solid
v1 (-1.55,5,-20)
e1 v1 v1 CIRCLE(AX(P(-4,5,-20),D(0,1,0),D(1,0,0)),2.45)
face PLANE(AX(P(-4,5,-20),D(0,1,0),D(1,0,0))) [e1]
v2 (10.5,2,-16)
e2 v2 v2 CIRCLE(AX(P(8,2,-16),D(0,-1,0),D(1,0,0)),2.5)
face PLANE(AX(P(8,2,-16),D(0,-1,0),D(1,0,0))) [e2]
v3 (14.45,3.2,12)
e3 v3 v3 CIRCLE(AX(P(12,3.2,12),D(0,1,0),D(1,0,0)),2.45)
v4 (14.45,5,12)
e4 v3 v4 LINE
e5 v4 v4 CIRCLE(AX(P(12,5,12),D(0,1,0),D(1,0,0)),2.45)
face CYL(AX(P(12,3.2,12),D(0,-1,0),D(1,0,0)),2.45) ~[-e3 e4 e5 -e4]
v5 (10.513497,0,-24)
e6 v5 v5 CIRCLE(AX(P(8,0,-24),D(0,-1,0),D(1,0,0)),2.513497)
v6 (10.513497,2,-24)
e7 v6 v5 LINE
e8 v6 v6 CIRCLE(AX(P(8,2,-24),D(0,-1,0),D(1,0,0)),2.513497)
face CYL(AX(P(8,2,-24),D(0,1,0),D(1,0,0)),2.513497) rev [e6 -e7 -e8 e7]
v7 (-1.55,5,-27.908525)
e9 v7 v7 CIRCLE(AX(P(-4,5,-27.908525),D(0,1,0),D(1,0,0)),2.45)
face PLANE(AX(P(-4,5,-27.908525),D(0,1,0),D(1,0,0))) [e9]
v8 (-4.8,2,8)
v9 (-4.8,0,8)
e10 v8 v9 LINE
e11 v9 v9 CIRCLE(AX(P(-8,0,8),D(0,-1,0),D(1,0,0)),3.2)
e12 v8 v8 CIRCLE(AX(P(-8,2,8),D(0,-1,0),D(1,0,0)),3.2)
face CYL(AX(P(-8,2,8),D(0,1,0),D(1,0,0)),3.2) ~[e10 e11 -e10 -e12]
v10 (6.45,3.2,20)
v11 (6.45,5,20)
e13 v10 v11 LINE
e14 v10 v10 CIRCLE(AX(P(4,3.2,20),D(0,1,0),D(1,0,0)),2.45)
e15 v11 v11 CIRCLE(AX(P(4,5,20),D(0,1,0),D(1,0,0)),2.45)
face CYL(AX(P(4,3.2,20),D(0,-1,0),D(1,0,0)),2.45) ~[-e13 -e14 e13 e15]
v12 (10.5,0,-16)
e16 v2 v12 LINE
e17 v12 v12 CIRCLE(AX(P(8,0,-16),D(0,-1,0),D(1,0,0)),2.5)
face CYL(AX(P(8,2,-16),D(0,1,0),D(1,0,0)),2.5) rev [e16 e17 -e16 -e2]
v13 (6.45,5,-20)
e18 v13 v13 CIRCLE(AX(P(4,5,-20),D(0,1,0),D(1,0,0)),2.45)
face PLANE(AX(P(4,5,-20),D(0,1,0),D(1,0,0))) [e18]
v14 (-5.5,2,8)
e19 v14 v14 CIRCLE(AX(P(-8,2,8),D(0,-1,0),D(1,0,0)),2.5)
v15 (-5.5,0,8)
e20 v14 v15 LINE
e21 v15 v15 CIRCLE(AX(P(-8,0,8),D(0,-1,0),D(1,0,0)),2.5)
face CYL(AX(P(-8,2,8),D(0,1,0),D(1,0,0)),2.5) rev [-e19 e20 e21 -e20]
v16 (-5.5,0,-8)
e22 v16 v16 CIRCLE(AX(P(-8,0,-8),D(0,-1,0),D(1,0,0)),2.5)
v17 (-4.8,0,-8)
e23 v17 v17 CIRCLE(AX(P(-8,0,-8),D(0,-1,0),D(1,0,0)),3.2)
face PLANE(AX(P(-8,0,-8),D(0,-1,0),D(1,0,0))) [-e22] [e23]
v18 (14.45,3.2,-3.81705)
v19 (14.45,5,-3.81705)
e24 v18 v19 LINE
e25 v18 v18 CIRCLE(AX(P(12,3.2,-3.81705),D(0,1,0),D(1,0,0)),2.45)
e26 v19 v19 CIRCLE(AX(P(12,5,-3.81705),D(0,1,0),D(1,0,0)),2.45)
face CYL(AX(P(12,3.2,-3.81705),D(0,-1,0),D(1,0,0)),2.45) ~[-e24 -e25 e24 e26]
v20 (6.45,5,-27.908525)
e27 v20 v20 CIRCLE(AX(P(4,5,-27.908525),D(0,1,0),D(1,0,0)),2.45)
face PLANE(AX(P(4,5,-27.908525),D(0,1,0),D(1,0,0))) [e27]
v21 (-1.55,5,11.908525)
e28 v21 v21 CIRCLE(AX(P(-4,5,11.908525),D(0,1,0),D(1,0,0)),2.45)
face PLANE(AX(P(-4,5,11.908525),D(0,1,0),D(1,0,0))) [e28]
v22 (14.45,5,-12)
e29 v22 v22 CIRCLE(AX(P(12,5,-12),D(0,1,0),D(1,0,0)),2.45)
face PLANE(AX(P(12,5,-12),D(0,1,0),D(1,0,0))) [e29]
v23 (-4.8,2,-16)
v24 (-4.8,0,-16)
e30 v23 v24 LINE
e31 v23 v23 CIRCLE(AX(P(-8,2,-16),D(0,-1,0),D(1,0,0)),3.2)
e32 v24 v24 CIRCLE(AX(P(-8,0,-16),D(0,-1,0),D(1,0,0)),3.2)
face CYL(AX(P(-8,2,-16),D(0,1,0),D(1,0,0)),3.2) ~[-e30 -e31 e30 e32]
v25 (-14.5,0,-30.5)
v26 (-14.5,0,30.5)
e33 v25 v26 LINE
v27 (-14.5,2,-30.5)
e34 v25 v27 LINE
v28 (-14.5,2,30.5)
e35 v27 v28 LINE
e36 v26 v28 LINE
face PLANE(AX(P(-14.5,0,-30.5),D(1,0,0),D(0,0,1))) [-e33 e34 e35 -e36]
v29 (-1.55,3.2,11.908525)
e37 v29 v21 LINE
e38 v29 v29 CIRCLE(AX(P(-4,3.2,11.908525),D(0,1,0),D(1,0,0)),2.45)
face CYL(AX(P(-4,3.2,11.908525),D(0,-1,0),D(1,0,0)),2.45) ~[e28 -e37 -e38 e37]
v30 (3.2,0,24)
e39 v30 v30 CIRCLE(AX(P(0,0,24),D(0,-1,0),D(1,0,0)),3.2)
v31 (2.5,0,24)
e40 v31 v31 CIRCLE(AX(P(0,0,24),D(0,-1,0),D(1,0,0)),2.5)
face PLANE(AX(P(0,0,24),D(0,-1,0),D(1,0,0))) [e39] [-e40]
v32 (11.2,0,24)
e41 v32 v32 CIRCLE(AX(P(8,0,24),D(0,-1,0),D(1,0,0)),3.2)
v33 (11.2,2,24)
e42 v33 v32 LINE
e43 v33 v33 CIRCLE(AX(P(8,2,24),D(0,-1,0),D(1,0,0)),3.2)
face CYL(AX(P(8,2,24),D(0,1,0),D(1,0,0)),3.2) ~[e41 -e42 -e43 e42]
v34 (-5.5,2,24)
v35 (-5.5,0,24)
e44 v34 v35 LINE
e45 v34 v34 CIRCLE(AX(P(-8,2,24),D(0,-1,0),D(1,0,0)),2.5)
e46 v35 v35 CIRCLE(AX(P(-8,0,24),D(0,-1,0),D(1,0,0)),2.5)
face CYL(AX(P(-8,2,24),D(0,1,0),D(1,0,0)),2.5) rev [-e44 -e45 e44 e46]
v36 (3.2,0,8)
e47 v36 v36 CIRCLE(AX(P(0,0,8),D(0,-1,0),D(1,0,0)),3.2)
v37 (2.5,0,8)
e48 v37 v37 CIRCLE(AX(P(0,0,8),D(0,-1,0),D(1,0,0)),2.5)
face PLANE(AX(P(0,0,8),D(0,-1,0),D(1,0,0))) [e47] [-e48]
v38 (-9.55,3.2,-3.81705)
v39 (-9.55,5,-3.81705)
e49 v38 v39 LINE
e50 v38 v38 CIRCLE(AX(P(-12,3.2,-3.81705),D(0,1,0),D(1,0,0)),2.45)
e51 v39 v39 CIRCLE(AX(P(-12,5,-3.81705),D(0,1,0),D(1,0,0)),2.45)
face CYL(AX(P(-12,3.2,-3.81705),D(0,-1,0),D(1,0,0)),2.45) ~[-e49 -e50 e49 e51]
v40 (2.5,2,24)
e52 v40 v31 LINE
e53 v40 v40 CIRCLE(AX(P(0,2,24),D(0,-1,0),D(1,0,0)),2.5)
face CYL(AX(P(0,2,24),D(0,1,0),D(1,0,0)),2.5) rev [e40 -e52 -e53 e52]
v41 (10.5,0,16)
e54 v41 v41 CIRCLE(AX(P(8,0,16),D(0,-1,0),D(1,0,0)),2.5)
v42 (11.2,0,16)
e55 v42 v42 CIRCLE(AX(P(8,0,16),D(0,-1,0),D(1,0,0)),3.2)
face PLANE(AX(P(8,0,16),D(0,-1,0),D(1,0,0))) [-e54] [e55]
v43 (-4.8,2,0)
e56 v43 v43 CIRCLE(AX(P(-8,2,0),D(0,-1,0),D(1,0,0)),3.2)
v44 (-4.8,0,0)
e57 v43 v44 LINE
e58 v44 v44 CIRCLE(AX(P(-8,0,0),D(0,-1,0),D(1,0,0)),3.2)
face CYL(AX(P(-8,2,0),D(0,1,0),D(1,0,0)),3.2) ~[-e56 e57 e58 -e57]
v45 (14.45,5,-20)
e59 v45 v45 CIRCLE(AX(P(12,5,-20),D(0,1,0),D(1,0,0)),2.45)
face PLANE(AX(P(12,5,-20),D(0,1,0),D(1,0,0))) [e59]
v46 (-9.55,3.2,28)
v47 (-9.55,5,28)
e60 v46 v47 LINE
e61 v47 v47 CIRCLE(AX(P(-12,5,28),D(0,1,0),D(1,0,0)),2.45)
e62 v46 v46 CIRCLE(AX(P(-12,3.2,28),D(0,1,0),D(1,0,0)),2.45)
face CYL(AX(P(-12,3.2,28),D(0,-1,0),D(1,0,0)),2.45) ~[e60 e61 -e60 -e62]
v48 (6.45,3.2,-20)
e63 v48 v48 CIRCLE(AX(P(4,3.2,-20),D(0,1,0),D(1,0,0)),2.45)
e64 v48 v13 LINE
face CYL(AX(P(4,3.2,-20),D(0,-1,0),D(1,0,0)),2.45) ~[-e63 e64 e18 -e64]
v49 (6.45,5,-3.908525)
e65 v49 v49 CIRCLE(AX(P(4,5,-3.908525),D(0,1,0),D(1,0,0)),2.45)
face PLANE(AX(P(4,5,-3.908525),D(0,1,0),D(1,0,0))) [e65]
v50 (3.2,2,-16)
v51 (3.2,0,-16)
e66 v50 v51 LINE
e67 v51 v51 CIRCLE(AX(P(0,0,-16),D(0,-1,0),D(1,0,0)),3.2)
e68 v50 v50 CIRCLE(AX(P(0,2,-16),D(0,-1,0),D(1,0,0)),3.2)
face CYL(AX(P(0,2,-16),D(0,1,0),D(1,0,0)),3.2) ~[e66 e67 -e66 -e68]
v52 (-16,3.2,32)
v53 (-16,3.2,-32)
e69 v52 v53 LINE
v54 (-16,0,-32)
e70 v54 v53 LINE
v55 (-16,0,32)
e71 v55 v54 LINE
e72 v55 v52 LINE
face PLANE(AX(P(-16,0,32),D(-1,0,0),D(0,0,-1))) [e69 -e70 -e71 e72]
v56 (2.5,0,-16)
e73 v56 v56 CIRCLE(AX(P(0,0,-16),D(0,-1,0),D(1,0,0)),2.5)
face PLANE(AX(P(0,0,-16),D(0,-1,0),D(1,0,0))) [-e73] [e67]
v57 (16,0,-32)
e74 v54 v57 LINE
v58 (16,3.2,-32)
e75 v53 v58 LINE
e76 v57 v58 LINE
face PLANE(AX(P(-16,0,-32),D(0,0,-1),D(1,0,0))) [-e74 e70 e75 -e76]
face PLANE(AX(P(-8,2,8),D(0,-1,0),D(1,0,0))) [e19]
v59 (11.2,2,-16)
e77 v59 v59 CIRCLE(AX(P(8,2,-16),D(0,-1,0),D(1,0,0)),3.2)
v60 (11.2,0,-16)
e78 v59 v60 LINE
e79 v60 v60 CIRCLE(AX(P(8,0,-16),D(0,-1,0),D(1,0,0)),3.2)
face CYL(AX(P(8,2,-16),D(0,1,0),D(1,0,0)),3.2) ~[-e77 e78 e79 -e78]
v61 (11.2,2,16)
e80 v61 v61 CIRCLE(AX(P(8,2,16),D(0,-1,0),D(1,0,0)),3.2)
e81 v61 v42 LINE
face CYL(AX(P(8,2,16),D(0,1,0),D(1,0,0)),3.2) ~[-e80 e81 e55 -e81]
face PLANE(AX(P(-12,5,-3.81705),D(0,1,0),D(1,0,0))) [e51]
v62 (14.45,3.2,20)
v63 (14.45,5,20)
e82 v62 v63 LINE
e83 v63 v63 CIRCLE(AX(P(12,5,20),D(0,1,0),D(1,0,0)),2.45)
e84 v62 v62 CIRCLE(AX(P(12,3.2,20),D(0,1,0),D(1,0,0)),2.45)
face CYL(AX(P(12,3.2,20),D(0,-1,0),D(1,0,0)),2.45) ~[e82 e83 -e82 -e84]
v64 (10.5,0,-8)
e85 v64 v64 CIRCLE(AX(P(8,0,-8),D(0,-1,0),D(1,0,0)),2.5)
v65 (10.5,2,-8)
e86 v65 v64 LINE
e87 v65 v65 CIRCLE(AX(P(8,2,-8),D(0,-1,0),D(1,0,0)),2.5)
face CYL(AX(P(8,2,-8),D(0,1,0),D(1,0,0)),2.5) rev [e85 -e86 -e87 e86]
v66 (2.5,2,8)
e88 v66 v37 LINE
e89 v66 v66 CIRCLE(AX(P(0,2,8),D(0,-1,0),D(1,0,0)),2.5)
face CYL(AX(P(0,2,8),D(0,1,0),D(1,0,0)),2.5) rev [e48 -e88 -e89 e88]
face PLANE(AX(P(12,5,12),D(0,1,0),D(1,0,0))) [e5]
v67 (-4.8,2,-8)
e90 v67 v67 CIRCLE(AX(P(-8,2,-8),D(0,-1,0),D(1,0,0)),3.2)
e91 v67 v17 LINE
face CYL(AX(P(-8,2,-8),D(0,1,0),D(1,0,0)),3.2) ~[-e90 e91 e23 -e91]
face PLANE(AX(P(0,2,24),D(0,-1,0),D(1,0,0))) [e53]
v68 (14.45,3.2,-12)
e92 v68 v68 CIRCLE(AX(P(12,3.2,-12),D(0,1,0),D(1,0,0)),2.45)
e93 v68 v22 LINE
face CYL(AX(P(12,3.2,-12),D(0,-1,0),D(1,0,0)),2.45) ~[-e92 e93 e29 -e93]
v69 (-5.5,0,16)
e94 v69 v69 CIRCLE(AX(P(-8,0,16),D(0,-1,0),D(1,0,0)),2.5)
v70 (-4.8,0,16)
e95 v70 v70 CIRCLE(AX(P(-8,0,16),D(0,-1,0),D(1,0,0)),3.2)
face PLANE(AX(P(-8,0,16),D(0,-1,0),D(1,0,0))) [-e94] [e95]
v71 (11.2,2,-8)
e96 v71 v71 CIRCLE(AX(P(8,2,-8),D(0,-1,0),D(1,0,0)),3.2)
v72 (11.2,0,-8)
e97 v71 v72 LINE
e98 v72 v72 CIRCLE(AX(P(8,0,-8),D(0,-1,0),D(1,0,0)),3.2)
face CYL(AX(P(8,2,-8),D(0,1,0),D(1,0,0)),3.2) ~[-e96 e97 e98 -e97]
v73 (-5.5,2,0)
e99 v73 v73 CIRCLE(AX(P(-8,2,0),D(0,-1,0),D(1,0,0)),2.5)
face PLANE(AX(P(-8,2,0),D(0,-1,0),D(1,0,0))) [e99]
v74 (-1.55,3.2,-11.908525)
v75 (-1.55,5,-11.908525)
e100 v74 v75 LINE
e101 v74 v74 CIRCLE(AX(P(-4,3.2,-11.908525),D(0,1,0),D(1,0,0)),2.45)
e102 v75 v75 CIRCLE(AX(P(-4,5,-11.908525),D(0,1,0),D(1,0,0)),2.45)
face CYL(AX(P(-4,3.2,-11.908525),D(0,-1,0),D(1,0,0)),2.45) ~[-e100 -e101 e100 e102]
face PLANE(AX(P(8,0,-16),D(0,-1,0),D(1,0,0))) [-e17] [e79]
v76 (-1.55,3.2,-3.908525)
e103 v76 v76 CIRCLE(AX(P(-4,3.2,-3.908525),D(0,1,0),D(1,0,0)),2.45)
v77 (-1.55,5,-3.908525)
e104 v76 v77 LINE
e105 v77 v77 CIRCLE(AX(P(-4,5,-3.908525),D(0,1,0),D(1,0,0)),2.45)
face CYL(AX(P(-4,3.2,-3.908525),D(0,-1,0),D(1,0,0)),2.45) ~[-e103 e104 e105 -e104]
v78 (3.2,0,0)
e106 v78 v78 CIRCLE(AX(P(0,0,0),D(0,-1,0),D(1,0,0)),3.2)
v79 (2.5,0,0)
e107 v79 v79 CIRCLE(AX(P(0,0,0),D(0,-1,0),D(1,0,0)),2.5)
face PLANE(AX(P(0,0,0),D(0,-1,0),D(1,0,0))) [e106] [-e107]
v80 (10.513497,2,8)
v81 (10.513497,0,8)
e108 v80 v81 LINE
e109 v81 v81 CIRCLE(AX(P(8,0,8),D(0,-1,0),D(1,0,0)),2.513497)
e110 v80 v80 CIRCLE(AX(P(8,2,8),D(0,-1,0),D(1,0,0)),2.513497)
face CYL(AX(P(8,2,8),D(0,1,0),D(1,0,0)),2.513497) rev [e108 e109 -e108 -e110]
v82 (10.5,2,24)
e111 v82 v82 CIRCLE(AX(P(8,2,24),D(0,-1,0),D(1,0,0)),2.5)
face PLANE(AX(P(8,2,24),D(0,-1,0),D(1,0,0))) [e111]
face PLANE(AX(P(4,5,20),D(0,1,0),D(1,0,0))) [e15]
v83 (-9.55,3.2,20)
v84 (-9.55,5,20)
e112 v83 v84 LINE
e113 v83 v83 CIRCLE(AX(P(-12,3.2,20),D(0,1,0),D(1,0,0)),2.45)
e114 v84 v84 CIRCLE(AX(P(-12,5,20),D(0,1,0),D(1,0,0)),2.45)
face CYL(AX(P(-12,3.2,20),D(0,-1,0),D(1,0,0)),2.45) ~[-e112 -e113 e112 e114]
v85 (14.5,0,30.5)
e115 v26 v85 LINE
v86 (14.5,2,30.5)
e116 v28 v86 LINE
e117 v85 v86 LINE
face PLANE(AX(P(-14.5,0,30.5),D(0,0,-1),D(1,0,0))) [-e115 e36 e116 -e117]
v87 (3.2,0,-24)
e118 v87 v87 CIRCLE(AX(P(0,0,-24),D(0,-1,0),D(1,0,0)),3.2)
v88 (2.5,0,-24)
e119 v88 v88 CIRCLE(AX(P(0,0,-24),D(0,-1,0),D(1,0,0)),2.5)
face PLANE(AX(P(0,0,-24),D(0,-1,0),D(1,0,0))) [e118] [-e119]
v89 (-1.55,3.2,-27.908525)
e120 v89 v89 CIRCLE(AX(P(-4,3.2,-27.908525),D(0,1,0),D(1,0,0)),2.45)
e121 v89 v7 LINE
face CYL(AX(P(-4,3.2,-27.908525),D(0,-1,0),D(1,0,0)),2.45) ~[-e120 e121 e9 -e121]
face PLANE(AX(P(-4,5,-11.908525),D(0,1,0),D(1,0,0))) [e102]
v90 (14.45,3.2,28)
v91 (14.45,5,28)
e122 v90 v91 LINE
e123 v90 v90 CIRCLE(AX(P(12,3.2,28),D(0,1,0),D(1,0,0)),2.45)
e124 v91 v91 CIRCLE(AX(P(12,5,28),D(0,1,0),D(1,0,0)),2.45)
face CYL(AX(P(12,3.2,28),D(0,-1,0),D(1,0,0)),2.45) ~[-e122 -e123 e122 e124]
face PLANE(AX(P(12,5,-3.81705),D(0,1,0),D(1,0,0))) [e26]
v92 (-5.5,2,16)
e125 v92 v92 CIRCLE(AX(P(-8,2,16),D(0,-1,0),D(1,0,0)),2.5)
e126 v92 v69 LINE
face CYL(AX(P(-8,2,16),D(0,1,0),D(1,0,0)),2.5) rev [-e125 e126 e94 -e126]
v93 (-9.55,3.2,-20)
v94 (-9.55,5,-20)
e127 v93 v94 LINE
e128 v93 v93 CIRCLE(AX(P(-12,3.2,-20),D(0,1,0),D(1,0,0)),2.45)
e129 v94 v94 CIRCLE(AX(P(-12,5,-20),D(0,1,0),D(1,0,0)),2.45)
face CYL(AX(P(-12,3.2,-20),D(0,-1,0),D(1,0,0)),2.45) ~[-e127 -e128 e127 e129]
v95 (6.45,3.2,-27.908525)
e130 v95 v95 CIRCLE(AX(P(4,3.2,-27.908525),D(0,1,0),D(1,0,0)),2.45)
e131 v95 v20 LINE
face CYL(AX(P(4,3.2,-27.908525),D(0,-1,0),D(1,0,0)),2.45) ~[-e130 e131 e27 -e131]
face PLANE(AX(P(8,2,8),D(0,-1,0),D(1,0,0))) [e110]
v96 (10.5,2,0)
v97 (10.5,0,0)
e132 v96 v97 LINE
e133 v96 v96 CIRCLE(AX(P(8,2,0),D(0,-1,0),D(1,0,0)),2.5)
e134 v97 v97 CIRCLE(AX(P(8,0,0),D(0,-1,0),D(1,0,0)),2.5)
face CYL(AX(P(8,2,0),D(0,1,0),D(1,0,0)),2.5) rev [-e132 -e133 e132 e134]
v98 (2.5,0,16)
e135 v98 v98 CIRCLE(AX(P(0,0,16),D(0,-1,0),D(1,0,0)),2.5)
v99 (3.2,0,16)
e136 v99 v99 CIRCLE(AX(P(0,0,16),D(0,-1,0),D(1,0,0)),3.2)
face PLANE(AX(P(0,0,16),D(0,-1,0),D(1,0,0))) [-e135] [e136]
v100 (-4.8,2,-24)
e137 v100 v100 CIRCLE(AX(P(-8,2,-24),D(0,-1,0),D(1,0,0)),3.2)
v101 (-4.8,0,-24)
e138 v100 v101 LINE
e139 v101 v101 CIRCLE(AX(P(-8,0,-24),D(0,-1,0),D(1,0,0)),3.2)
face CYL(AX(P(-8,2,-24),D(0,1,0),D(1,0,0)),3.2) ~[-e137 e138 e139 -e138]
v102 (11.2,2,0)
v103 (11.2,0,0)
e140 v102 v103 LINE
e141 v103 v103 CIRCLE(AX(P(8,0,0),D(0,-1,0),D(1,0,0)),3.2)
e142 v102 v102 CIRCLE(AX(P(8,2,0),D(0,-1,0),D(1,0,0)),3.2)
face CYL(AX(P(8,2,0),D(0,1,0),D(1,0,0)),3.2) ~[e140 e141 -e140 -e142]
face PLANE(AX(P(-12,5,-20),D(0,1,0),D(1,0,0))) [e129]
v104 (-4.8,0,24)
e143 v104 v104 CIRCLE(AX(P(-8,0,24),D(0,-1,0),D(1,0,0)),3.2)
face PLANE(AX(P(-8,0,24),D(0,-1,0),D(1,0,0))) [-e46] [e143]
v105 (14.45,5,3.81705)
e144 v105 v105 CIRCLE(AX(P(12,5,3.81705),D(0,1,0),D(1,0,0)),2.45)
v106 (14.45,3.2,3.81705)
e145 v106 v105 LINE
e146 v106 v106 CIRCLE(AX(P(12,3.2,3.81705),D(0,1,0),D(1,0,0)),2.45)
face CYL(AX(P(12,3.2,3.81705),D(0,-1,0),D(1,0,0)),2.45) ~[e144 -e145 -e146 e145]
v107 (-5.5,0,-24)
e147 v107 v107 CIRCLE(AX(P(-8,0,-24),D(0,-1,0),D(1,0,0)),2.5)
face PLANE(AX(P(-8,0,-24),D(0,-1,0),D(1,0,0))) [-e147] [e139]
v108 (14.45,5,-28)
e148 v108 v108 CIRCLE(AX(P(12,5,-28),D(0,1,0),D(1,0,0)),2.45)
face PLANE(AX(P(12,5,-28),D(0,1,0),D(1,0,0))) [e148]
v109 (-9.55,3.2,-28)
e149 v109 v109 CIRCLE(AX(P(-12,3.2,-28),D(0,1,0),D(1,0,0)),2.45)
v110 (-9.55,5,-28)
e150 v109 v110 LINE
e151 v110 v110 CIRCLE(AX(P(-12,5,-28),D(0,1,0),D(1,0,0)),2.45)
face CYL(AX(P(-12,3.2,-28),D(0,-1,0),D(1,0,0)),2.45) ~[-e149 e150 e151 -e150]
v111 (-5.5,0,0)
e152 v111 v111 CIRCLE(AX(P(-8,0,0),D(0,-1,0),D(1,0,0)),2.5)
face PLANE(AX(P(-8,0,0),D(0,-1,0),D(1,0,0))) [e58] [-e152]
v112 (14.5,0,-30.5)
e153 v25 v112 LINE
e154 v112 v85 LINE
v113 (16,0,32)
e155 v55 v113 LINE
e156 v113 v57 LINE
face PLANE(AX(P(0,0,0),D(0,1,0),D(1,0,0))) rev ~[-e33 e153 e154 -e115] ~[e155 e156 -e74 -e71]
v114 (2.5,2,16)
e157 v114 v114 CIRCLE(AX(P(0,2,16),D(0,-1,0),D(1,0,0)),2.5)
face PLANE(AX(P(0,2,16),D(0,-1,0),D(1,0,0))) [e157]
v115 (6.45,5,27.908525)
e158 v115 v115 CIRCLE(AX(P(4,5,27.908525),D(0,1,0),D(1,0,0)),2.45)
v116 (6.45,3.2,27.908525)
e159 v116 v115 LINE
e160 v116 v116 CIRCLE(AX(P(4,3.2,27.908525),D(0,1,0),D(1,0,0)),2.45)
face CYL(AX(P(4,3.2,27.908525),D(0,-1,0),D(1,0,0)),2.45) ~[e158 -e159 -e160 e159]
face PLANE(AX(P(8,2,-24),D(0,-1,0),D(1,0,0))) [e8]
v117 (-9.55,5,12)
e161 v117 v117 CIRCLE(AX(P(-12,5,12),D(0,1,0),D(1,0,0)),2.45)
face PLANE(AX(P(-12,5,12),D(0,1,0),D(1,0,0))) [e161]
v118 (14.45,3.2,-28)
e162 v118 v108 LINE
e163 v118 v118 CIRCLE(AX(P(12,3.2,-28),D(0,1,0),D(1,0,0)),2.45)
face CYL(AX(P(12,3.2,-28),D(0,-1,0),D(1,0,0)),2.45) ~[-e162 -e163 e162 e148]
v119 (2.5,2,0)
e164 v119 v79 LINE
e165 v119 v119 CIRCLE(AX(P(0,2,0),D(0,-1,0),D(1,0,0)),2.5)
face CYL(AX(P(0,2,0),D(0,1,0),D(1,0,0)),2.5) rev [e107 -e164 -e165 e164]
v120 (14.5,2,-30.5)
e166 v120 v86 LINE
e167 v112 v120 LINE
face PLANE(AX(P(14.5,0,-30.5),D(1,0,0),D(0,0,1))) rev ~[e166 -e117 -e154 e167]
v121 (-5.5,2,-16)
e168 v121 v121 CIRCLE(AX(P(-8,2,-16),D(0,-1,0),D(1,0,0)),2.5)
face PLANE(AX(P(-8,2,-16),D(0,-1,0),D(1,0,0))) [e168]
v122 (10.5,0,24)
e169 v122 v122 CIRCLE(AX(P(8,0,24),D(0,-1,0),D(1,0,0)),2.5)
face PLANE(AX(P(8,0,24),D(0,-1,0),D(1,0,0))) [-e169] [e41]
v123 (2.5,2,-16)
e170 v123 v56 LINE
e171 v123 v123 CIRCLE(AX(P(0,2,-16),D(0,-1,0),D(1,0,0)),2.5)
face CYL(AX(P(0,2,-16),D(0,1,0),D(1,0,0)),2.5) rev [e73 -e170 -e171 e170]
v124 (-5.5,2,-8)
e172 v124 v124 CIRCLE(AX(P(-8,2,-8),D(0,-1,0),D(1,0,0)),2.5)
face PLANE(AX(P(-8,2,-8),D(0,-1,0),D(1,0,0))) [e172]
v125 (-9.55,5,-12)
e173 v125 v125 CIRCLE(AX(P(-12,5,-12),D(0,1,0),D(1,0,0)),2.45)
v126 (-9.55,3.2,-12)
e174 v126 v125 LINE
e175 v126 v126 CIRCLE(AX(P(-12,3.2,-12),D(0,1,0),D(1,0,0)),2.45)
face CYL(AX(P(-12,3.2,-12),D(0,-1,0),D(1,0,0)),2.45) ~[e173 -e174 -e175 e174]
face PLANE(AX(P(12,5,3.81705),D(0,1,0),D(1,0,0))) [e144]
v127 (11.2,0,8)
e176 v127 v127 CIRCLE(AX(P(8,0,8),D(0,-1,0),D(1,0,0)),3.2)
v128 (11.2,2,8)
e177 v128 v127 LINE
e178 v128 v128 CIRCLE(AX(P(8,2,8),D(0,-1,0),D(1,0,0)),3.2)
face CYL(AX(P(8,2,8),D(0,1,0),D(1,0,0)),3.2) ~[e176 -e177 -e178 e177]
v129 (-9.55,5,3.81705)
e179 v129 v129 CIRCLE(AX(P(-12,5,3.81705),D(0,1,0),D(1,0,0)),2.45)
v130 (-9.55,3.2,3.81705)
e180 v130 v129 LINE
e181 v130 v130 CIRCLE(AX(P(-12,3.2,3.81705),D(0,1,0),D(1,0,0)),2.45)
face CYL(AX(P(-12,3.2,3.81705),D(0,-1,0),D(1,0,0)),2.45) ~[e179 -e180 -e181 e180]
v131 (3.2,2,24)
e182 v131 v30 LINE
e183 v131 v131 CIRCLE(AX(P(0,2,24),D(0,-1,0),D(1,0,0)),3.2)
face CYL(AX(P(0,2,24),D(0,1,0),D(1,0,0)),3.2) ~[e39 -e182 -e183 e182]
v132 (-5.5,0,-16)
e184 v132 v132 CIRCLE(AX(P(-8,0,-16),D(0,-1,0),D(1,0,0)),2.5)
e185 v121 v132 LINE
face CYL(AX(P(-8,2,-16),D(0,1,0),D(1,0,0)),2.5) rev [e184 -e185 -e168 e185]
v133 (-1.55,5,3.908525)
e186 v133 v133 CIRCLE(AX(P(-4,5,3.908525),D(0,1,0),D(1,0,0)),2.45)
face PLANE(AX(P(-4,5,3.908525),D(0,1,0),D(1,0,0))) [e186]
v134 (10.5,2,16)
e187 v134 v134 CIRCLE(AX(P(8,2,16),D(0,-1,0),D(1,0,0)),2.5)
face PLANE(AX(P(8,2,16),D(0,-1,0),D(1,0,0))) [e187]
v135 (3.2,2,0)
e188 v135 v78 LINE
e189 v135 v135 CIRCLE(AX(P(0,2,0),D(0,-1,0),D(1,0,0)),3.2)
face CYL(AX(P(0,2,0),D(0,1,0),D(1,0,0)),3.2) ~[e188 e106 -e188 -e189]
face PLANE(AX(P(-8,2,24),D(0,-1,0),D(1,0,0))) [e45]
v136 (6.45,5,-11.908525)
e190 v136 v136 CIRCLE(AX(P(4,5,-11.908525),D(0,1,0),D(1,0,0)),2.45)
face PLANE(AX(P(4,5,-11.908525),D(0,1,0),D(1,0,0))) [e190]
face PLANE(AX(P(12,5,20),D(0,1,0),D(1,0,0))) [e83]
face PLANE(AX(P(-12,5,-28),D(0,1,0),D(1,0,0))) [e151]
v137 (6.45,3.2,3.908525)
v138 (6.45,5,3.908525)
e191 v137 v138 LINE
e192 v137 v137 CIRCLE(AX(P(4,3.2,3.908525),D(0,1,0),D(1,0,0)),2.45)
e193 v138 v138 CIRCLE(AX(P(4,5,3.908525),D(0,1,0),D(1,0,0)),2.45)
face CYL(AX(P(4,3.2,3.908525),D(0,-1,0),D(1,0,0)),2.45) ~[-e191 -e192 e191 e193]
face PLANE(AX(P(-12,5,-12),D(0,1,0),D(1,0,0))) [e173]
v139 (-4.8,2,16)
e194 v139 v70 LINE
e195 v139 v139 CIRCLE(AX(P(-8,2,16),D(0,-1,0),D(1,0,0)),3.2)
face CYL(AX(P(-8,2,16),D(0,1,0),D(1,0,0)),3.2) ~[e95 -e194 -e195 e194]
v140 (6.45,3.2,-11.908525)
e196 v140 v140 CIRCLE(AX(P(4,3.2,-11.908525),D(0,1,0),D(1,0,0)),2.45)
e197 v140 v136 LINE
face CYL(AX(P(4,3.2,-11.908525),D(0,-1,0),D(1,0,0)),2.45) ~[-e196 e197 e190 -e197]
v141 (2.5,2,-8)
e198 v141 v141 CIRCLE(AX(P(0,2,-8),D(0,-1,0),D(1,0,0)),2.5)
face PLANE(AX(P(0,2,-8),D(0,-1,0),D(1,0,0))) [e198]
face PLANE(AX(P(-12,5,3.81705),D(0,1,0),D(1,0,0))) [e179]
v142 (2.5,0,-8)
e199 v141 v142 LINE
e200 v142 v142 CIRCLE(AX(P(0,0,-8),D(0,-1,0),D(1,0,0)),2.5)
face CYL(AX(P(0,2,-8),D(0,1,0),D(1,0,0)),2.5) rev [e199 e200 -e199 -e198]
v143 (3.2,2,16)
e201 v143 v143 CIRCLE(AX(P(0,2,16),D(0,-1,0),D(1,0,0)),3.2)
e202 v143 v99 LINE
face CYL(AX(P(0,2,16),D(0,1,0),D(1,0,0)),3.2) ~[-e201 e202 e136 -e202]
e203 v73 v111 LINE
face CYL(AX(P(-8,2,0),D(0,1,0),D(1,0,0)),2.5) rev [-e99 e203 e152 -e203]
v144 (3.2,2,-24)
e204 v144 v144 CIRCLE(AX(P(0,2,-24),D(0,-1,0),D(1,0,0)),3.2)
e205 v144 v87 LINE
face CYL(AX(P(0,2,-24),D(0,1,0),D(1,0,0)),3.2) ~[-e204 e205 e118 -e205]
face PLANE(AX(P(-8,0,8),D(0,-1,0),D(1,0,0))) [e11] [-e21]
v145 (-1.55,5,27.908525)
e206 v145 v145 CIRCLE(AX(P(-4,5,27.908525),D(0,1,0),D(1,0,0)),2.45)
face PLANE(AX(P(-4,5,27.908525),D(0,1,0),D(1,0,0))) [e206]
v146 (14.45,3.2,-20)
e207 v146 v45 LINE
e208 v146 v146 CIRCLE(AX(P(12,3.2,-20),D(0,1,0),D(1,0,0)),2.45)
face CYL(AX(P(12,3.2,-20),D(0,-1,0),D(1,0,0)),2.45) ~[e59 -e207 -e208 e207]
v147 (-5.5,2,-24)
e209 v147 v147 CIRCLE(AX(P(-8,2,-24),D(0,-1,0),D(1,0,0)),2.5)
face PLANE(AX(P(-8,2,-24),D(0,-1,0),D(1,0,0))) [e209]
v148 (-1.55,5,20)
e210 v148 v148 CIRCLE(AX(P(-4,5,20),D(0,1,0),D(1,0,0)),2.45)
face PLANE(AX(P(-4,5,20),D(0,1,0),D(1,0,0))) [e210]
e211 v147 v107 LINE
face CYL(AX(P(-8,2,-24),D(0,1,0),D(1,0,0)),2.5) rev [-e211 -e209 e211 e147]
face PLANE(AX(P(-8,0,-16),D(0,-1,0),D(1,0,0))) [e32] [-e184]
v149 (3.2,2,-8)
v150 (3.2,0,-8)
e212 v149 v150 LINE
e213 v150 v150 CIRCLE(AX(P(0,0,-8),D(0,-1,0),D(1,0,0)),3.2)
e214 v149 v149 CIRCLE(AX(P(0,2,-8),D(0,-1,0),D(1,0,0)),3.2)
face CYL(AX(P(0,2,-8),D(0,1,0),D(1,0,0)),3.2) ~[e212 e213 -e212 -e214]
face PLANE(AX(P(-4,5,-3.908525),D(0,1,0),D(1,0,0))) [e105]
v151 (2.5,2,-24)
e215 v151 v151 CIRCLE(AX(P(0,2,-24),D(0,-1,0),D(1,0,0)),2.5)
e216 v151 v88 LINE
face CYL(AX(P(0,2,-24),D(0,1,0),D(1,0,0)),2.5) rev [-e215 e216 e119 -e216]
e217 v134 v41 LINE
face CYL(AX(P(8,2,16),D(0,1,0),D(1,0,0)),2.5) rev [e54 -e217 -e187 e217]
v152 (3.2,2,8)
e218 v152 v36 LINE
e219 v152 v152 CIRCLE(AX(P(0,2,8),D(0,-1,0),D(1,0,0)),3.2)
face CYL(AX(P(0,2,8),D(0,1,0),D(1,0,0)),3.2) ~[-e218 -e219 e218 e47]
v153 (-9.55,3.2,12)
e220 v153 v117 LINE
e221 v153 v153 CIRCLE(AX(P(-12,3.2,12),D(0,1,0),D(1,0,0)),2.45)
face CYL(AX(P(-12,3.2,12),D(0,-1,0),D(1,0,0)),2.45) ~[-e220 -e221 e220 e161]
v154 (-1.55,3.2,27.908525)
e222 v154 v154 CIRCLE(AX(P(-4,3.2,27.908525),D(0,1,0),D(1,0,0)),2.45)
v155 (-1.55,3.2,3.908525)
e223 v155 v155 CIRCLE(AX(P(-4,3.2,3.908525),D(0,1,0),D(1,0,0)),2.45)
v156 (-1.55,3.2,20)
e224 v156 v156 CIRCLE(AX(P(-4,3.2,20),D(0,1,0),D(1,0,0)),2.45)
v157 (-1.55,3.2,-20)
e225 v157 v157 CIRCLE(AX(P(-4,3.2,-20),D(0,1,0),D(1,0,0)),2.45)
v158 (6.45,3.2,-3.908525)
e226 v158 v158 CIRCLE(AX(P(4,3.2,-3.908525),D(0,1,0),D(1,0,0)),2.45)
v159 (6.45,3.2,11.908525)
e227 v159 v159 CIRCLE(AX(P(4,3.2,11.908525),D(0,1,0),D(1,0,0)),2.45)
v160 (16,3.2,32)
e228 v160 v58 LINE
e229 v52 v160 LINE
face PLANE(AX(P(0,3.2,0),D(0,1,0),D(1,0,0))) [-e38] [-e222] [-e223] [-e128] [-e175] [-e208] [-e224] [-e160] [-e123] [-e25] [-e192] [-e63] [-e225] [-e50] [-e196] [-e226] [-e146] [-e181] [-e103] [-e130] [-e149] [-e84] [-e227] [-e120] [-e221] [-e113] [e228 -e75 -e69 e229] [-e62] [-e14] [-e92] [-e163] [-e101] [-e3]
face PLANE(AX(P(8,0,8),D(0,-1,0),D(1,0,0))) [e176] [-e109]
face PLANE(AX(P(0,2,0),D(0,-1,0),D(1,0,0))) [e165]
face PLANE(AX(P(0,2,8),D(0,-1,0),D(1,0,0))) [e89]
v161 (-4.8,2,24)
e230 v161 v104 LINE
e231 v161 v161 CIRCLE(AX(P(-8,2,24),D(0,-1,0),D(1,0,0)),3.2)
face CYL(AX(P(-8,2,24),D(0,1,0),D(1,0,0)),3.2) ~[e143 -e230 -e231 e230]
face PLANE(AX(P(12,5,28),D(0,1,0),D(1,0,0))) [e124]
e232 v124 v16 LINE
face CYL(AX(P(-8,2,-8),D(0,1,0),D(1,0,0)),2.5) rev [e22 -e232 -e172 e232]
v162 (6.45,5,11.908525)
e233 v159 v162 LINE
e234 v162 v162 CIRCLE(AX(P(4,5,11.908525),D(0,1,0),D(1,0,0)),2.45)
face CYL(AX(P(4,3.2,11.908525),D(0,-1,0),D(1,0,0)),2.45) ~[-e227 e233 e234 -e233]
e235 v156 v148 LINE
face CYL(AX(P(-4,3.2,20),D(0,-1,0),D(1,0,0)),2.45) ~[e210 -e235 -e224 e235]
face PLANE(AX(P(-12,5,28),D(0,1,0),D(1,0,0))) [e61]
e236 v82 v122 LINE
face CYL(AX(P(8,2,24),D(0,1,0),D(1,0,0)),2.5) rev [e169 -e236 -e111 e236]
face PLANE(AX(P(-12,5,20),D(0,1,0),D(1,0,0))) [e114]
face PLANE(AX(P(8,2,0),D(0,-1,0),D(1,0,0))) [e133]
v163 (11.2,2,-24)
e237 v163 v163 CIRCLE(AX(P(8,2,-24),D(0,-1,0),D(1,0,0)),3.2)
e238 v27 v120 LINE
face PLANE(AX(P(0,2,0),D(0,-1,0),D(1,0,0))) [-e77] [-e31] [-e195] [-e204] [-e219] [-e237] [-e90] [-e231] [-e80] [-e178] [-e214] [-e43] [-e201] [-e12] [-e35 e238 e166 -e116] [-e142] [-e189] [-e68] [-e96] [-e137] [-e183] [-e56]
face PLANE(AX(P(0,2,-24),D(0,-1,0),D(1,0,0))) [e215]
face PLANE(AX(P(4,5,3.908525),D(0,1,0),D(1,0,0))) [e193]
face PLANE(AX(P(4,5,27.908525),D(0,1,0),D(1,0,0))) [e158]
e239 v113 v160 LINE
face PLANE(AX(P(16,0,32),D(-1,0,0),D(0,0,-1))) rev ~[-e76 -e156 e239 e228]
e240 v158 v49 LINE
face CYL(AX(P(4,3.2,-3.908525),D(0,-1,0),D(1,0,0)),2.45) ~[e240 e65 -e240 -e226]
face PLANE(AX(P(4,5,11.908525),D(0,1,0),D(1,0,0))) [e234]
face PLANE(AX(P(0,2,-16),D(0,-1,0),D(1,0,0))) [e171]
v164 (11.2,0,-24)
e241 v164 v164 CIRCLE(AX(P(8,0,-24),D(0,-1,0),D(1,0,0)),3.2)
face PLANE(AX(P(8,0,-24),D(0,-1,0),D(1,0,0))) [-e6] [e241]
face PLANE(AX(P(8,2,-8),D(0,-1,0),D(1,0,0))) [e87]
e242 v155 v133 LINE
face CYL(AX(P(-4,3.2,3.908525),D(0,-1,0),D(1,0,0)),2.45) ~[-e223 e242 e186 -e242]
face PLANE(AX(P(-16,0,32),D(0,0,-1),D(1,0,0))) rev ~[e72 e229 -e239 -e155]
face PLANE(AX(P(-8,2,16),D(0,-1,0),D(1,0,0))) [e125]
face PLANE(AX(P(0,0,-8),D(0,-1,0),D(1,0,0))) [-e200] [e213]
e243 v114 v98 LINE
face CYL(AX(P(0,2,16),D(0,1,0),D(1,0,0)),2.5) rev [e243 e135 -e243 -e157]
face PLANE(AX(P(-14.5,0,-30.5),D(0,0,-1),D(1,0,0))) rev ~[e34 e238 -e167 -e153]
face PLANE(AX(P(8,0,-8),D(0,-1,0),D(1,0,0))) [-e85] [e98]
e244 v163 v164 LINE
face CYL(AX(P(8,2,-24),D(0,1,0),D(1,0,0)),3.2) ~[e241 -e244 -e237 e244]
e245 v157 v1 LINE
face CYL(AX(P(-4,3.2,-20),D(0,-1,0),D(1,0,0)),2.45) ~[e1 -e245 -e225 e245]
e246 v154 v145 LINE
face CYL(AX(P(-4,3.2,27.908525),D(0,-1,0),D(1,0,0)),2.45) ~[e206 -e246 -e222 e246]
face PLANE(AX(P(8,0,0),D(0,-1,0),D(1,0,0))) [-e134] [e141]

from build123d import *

# Parameters (mm, degrees)
SKETCH3_W           = 32
SKETCH3_H           = 64
BOSS_EXTRUDE2_DEPTH = 3.2
SKETCH4_R           = 2.45
BOSS_EXTRUDE3_DEPTH = 1.8
SKETCH5_W           = 29
SKETCH5_H           = 61
CUT_EXTRUDE1_DEPTH  = 2
SKETCH6_R           = 3.2
BOSS_EXTRUDE4_DEPTH = 2
SKETCH7_R           = 2.5
SKETCH7_R_2         = 2.513496794
CUT_EXTRUDE2_DEPTH  = 2


with BuildPart() as part:
    # Sketch3 → Boss-Extrude2 (new body)
    with BuildSketch(Plane(origin=(0, 0, 0), x_dir=(1, 0, 0), z_dir=(0, 1, 0))):
        Rectangle(SKETCH3_W, SKETCH3_H)
    extrude(amount=BOSS_EXTRUDE2_DEPTH)

    # Sketch4 → Boss-Extrude3 (add)
    with BuildSketch(Plane(origin=(0, 3.2, 0), x_dir=(1, 0, 0), z_dir=(0, 1, 0))):
        with Locations((-12, 28)):
            Circle(SKETCH4_R)
        with Locations((-4, 27.908524957)):
            Circle(SKETCH4_R)
        with Locations((4, 27.908524957)):
            Circle(SKETCH4_R)
        with Locations((12, 28)):
            Circle(SKETCH4_R)
        with Locations((12, 20)):
            Circle(SKETCH4_R)
        with Locations((4, 20)):
            Circle(SKETCH4_R)
        with Locations((-4, 20)):
            Circle(SKETCH4_R)
        with Locations((-12, 20)):
            Circle(SKETCH4_R)
        with Locations((12, 12)):
            Circle(SKETCH4_R)
        with Locations((12, 3.817049914)):
            Circle(SKETCH4_R)
        with Locations((4, 3.908524957)):
            Circle(SKETCH4_R)
        with Locations((4, 11.908524957)):
            Circle(SKETCH4_R)
        with Locations((-4, 11.908524957)):
            Circle(SKETCH4_R)
        with Locations((-4, 3.908524957)):
            Circle(SKETCH4_R)
        with Locations((-12, 3.817049914)):
            Circle(SKETCH4_R)
        with Locations((-12, 12)):
            Circle(SKETCH4_R)
        with Locations((4, -27.908524957)):
            Circle(SKETCH4_R)
        with Locations((12, -28)):
            Circle(SKETCH4_R)
        with Locations((12, -20)):
            Circle(SKETCH4_R)
        with Locations((4, -20)):
            Circle(SKETCH4_R)
        with Locations((4, -11.908524957)):
            Circle(SKETCH4_R)
        with Locations((12, -12)):
            Circle(SKETCH4_R)
        with Locations((12, -3.817049914)):
            Circle(SKETCH4_R)
        with Locations((4, -3.908524957)):
            Circle(SKETCH4_R)
        with Locations((-4, -3.908524957)):
            Circle(SKETCH4_R)
        with Locations((-4, -11.908524957)):
            Circle(SKETCH4_R)
        with Locations((-4, -20)):
            Circle(SKETCH4_R)
        with Locations((-4, -27.908524957)):
            Circle(SKETCH4_R)
        with Locations((-12, -28)):
            Circle(SKETCH4_R)
        with Locations((-12, -20)):
            Circle(SKETCH4_R)
        with Locations((-12, -12)):
            Circle(SKETCH4_R)
        with Locations((-12, -3.817049914)):
            Circle(SKETCH4_R)
    extrude(amount=BOSS_EXTRUDE3_DEPTH)

    # Sketch5 → Cut-Extrude1 (cut)
    with BuildSketch(Plane.XZ):
        Rectangle(SKETCH5_W, SKETCH5_H)
    extrude(amount=-CUT_EXTRUDE1_DEPTH, mode=Mode.SUBTRACT)

    # Sketch6 → Boss-Extrude4 (add)
    with BuildSketch(Plane.XZ.offset(-2)):
        with Locations((-8, 24)):
            Circle(SKETCH6_R)
        with Locations((0, 24)):
            Circle(SKETCH6_R)
        with Locations((8, 24)):
            Circle(SKETCH6_R)
        with Locations((8, 16)):
            Circle(SKETCH6_R)
        with Locations((0, 16)):
            Circle(SKETCH6_R)
        with Locations((-8, 16)):
            Circle(SKETCH6_R)
        with Locations((0, 8)):
            Circle(SKETCH6_R)
        with Locations((8, 8)):
            Circle(SKETCH6_R)
        with Locations((8, 0)):
            Circle(SKETCH6_R)
        Circle(SKETCH6_R)
        with Locations((-8, 0)):
            Circle(SKETCH6_R)
        with Locations((-8, 8)):
            Circle(SKETCH6_R)
        with Locations((8, -24)):
            Circle(SKETCH6_R)
        with Locations((8, -16)):
            Circle(SKETCH6_R)
        with Locations((8, -8)):
            Circle(SKETCH6_R)
        with Locations((0, -8)):
            Circle(SKETCH6_R)
        with Locations((0, -16)):
            Circle(SKETCH6_R)
        with Locations((0, -24)):
            Circle(SKETCH6_R)
        with Locations((-8, -24)):
            Circle(SKETCH6_R)
        with Locations((-8, -16)):
            Circle(SKETCH6_R)
        with Locations((-8, -8)):
            Circle(SKETCH6_R)
    extrude(amount=BOSS_EXTRUDE4_DEPTH)

    # Sketch7 → Cut-Extrude2 (cut)
    with BuildSketch(Plane.XZ.offset(-2)):
        with Locations((-8, -24)):
            Circle(SKETCH7_R)
        with Locations((0, -24)):
            Circle(SKETCH7_R)
        with Locations((8, -24)):
            Circle(SKETCH7_R_2)
        with Locations((-8, -16)):
            Circle(SKETCH7_R)
        with Locations((0, -16)):
            Circle(SKETCH7_R)
        with Locations((8, -16)):
            Circle(SKETCH7_R)
        with Locations((-8, -8)):
            Circle(SKETCH7_R)
        with Locations((0, -8)):
            Circle(SKETCH7_R)
        with Locations((8, -8)):
            Circle(SKETCH7_R)
        with Locations((-8, 8)):
            Circle(SKETCH7_R)
        with Locations((0, 8)):
            Circle(SKETCH7_R)
        with Locations((8, 8)):
            Circle(SKETCH7_R_2)
        with Locations((8, 0)):
            Circle(SKETCH7_R)
        Circle(SKETCH7_R)
        with Locations((-8, 0)):
            Circle(SKETCH7_R)
        with Locations((0, 16)):
            Circle(SKETCH7_R)
        with Locations((8, 16)):
            Circle(SKETCH7_R)
        with Locations((8, 24)):
            Circle(SKETCH7_R)
        with Locations((0, 24)):
            Circle(SKETCH7_R)
        with Locations((-8, 24)):
            Circle(SKETCH7_R)
        with Locations((-8, 16)):
            Circle(SKETCH7_R)
    extrude(amount=CUT_EXTRUDE2_DEPTH, mode=Mode.SUBTRACT)


solid = part.part
